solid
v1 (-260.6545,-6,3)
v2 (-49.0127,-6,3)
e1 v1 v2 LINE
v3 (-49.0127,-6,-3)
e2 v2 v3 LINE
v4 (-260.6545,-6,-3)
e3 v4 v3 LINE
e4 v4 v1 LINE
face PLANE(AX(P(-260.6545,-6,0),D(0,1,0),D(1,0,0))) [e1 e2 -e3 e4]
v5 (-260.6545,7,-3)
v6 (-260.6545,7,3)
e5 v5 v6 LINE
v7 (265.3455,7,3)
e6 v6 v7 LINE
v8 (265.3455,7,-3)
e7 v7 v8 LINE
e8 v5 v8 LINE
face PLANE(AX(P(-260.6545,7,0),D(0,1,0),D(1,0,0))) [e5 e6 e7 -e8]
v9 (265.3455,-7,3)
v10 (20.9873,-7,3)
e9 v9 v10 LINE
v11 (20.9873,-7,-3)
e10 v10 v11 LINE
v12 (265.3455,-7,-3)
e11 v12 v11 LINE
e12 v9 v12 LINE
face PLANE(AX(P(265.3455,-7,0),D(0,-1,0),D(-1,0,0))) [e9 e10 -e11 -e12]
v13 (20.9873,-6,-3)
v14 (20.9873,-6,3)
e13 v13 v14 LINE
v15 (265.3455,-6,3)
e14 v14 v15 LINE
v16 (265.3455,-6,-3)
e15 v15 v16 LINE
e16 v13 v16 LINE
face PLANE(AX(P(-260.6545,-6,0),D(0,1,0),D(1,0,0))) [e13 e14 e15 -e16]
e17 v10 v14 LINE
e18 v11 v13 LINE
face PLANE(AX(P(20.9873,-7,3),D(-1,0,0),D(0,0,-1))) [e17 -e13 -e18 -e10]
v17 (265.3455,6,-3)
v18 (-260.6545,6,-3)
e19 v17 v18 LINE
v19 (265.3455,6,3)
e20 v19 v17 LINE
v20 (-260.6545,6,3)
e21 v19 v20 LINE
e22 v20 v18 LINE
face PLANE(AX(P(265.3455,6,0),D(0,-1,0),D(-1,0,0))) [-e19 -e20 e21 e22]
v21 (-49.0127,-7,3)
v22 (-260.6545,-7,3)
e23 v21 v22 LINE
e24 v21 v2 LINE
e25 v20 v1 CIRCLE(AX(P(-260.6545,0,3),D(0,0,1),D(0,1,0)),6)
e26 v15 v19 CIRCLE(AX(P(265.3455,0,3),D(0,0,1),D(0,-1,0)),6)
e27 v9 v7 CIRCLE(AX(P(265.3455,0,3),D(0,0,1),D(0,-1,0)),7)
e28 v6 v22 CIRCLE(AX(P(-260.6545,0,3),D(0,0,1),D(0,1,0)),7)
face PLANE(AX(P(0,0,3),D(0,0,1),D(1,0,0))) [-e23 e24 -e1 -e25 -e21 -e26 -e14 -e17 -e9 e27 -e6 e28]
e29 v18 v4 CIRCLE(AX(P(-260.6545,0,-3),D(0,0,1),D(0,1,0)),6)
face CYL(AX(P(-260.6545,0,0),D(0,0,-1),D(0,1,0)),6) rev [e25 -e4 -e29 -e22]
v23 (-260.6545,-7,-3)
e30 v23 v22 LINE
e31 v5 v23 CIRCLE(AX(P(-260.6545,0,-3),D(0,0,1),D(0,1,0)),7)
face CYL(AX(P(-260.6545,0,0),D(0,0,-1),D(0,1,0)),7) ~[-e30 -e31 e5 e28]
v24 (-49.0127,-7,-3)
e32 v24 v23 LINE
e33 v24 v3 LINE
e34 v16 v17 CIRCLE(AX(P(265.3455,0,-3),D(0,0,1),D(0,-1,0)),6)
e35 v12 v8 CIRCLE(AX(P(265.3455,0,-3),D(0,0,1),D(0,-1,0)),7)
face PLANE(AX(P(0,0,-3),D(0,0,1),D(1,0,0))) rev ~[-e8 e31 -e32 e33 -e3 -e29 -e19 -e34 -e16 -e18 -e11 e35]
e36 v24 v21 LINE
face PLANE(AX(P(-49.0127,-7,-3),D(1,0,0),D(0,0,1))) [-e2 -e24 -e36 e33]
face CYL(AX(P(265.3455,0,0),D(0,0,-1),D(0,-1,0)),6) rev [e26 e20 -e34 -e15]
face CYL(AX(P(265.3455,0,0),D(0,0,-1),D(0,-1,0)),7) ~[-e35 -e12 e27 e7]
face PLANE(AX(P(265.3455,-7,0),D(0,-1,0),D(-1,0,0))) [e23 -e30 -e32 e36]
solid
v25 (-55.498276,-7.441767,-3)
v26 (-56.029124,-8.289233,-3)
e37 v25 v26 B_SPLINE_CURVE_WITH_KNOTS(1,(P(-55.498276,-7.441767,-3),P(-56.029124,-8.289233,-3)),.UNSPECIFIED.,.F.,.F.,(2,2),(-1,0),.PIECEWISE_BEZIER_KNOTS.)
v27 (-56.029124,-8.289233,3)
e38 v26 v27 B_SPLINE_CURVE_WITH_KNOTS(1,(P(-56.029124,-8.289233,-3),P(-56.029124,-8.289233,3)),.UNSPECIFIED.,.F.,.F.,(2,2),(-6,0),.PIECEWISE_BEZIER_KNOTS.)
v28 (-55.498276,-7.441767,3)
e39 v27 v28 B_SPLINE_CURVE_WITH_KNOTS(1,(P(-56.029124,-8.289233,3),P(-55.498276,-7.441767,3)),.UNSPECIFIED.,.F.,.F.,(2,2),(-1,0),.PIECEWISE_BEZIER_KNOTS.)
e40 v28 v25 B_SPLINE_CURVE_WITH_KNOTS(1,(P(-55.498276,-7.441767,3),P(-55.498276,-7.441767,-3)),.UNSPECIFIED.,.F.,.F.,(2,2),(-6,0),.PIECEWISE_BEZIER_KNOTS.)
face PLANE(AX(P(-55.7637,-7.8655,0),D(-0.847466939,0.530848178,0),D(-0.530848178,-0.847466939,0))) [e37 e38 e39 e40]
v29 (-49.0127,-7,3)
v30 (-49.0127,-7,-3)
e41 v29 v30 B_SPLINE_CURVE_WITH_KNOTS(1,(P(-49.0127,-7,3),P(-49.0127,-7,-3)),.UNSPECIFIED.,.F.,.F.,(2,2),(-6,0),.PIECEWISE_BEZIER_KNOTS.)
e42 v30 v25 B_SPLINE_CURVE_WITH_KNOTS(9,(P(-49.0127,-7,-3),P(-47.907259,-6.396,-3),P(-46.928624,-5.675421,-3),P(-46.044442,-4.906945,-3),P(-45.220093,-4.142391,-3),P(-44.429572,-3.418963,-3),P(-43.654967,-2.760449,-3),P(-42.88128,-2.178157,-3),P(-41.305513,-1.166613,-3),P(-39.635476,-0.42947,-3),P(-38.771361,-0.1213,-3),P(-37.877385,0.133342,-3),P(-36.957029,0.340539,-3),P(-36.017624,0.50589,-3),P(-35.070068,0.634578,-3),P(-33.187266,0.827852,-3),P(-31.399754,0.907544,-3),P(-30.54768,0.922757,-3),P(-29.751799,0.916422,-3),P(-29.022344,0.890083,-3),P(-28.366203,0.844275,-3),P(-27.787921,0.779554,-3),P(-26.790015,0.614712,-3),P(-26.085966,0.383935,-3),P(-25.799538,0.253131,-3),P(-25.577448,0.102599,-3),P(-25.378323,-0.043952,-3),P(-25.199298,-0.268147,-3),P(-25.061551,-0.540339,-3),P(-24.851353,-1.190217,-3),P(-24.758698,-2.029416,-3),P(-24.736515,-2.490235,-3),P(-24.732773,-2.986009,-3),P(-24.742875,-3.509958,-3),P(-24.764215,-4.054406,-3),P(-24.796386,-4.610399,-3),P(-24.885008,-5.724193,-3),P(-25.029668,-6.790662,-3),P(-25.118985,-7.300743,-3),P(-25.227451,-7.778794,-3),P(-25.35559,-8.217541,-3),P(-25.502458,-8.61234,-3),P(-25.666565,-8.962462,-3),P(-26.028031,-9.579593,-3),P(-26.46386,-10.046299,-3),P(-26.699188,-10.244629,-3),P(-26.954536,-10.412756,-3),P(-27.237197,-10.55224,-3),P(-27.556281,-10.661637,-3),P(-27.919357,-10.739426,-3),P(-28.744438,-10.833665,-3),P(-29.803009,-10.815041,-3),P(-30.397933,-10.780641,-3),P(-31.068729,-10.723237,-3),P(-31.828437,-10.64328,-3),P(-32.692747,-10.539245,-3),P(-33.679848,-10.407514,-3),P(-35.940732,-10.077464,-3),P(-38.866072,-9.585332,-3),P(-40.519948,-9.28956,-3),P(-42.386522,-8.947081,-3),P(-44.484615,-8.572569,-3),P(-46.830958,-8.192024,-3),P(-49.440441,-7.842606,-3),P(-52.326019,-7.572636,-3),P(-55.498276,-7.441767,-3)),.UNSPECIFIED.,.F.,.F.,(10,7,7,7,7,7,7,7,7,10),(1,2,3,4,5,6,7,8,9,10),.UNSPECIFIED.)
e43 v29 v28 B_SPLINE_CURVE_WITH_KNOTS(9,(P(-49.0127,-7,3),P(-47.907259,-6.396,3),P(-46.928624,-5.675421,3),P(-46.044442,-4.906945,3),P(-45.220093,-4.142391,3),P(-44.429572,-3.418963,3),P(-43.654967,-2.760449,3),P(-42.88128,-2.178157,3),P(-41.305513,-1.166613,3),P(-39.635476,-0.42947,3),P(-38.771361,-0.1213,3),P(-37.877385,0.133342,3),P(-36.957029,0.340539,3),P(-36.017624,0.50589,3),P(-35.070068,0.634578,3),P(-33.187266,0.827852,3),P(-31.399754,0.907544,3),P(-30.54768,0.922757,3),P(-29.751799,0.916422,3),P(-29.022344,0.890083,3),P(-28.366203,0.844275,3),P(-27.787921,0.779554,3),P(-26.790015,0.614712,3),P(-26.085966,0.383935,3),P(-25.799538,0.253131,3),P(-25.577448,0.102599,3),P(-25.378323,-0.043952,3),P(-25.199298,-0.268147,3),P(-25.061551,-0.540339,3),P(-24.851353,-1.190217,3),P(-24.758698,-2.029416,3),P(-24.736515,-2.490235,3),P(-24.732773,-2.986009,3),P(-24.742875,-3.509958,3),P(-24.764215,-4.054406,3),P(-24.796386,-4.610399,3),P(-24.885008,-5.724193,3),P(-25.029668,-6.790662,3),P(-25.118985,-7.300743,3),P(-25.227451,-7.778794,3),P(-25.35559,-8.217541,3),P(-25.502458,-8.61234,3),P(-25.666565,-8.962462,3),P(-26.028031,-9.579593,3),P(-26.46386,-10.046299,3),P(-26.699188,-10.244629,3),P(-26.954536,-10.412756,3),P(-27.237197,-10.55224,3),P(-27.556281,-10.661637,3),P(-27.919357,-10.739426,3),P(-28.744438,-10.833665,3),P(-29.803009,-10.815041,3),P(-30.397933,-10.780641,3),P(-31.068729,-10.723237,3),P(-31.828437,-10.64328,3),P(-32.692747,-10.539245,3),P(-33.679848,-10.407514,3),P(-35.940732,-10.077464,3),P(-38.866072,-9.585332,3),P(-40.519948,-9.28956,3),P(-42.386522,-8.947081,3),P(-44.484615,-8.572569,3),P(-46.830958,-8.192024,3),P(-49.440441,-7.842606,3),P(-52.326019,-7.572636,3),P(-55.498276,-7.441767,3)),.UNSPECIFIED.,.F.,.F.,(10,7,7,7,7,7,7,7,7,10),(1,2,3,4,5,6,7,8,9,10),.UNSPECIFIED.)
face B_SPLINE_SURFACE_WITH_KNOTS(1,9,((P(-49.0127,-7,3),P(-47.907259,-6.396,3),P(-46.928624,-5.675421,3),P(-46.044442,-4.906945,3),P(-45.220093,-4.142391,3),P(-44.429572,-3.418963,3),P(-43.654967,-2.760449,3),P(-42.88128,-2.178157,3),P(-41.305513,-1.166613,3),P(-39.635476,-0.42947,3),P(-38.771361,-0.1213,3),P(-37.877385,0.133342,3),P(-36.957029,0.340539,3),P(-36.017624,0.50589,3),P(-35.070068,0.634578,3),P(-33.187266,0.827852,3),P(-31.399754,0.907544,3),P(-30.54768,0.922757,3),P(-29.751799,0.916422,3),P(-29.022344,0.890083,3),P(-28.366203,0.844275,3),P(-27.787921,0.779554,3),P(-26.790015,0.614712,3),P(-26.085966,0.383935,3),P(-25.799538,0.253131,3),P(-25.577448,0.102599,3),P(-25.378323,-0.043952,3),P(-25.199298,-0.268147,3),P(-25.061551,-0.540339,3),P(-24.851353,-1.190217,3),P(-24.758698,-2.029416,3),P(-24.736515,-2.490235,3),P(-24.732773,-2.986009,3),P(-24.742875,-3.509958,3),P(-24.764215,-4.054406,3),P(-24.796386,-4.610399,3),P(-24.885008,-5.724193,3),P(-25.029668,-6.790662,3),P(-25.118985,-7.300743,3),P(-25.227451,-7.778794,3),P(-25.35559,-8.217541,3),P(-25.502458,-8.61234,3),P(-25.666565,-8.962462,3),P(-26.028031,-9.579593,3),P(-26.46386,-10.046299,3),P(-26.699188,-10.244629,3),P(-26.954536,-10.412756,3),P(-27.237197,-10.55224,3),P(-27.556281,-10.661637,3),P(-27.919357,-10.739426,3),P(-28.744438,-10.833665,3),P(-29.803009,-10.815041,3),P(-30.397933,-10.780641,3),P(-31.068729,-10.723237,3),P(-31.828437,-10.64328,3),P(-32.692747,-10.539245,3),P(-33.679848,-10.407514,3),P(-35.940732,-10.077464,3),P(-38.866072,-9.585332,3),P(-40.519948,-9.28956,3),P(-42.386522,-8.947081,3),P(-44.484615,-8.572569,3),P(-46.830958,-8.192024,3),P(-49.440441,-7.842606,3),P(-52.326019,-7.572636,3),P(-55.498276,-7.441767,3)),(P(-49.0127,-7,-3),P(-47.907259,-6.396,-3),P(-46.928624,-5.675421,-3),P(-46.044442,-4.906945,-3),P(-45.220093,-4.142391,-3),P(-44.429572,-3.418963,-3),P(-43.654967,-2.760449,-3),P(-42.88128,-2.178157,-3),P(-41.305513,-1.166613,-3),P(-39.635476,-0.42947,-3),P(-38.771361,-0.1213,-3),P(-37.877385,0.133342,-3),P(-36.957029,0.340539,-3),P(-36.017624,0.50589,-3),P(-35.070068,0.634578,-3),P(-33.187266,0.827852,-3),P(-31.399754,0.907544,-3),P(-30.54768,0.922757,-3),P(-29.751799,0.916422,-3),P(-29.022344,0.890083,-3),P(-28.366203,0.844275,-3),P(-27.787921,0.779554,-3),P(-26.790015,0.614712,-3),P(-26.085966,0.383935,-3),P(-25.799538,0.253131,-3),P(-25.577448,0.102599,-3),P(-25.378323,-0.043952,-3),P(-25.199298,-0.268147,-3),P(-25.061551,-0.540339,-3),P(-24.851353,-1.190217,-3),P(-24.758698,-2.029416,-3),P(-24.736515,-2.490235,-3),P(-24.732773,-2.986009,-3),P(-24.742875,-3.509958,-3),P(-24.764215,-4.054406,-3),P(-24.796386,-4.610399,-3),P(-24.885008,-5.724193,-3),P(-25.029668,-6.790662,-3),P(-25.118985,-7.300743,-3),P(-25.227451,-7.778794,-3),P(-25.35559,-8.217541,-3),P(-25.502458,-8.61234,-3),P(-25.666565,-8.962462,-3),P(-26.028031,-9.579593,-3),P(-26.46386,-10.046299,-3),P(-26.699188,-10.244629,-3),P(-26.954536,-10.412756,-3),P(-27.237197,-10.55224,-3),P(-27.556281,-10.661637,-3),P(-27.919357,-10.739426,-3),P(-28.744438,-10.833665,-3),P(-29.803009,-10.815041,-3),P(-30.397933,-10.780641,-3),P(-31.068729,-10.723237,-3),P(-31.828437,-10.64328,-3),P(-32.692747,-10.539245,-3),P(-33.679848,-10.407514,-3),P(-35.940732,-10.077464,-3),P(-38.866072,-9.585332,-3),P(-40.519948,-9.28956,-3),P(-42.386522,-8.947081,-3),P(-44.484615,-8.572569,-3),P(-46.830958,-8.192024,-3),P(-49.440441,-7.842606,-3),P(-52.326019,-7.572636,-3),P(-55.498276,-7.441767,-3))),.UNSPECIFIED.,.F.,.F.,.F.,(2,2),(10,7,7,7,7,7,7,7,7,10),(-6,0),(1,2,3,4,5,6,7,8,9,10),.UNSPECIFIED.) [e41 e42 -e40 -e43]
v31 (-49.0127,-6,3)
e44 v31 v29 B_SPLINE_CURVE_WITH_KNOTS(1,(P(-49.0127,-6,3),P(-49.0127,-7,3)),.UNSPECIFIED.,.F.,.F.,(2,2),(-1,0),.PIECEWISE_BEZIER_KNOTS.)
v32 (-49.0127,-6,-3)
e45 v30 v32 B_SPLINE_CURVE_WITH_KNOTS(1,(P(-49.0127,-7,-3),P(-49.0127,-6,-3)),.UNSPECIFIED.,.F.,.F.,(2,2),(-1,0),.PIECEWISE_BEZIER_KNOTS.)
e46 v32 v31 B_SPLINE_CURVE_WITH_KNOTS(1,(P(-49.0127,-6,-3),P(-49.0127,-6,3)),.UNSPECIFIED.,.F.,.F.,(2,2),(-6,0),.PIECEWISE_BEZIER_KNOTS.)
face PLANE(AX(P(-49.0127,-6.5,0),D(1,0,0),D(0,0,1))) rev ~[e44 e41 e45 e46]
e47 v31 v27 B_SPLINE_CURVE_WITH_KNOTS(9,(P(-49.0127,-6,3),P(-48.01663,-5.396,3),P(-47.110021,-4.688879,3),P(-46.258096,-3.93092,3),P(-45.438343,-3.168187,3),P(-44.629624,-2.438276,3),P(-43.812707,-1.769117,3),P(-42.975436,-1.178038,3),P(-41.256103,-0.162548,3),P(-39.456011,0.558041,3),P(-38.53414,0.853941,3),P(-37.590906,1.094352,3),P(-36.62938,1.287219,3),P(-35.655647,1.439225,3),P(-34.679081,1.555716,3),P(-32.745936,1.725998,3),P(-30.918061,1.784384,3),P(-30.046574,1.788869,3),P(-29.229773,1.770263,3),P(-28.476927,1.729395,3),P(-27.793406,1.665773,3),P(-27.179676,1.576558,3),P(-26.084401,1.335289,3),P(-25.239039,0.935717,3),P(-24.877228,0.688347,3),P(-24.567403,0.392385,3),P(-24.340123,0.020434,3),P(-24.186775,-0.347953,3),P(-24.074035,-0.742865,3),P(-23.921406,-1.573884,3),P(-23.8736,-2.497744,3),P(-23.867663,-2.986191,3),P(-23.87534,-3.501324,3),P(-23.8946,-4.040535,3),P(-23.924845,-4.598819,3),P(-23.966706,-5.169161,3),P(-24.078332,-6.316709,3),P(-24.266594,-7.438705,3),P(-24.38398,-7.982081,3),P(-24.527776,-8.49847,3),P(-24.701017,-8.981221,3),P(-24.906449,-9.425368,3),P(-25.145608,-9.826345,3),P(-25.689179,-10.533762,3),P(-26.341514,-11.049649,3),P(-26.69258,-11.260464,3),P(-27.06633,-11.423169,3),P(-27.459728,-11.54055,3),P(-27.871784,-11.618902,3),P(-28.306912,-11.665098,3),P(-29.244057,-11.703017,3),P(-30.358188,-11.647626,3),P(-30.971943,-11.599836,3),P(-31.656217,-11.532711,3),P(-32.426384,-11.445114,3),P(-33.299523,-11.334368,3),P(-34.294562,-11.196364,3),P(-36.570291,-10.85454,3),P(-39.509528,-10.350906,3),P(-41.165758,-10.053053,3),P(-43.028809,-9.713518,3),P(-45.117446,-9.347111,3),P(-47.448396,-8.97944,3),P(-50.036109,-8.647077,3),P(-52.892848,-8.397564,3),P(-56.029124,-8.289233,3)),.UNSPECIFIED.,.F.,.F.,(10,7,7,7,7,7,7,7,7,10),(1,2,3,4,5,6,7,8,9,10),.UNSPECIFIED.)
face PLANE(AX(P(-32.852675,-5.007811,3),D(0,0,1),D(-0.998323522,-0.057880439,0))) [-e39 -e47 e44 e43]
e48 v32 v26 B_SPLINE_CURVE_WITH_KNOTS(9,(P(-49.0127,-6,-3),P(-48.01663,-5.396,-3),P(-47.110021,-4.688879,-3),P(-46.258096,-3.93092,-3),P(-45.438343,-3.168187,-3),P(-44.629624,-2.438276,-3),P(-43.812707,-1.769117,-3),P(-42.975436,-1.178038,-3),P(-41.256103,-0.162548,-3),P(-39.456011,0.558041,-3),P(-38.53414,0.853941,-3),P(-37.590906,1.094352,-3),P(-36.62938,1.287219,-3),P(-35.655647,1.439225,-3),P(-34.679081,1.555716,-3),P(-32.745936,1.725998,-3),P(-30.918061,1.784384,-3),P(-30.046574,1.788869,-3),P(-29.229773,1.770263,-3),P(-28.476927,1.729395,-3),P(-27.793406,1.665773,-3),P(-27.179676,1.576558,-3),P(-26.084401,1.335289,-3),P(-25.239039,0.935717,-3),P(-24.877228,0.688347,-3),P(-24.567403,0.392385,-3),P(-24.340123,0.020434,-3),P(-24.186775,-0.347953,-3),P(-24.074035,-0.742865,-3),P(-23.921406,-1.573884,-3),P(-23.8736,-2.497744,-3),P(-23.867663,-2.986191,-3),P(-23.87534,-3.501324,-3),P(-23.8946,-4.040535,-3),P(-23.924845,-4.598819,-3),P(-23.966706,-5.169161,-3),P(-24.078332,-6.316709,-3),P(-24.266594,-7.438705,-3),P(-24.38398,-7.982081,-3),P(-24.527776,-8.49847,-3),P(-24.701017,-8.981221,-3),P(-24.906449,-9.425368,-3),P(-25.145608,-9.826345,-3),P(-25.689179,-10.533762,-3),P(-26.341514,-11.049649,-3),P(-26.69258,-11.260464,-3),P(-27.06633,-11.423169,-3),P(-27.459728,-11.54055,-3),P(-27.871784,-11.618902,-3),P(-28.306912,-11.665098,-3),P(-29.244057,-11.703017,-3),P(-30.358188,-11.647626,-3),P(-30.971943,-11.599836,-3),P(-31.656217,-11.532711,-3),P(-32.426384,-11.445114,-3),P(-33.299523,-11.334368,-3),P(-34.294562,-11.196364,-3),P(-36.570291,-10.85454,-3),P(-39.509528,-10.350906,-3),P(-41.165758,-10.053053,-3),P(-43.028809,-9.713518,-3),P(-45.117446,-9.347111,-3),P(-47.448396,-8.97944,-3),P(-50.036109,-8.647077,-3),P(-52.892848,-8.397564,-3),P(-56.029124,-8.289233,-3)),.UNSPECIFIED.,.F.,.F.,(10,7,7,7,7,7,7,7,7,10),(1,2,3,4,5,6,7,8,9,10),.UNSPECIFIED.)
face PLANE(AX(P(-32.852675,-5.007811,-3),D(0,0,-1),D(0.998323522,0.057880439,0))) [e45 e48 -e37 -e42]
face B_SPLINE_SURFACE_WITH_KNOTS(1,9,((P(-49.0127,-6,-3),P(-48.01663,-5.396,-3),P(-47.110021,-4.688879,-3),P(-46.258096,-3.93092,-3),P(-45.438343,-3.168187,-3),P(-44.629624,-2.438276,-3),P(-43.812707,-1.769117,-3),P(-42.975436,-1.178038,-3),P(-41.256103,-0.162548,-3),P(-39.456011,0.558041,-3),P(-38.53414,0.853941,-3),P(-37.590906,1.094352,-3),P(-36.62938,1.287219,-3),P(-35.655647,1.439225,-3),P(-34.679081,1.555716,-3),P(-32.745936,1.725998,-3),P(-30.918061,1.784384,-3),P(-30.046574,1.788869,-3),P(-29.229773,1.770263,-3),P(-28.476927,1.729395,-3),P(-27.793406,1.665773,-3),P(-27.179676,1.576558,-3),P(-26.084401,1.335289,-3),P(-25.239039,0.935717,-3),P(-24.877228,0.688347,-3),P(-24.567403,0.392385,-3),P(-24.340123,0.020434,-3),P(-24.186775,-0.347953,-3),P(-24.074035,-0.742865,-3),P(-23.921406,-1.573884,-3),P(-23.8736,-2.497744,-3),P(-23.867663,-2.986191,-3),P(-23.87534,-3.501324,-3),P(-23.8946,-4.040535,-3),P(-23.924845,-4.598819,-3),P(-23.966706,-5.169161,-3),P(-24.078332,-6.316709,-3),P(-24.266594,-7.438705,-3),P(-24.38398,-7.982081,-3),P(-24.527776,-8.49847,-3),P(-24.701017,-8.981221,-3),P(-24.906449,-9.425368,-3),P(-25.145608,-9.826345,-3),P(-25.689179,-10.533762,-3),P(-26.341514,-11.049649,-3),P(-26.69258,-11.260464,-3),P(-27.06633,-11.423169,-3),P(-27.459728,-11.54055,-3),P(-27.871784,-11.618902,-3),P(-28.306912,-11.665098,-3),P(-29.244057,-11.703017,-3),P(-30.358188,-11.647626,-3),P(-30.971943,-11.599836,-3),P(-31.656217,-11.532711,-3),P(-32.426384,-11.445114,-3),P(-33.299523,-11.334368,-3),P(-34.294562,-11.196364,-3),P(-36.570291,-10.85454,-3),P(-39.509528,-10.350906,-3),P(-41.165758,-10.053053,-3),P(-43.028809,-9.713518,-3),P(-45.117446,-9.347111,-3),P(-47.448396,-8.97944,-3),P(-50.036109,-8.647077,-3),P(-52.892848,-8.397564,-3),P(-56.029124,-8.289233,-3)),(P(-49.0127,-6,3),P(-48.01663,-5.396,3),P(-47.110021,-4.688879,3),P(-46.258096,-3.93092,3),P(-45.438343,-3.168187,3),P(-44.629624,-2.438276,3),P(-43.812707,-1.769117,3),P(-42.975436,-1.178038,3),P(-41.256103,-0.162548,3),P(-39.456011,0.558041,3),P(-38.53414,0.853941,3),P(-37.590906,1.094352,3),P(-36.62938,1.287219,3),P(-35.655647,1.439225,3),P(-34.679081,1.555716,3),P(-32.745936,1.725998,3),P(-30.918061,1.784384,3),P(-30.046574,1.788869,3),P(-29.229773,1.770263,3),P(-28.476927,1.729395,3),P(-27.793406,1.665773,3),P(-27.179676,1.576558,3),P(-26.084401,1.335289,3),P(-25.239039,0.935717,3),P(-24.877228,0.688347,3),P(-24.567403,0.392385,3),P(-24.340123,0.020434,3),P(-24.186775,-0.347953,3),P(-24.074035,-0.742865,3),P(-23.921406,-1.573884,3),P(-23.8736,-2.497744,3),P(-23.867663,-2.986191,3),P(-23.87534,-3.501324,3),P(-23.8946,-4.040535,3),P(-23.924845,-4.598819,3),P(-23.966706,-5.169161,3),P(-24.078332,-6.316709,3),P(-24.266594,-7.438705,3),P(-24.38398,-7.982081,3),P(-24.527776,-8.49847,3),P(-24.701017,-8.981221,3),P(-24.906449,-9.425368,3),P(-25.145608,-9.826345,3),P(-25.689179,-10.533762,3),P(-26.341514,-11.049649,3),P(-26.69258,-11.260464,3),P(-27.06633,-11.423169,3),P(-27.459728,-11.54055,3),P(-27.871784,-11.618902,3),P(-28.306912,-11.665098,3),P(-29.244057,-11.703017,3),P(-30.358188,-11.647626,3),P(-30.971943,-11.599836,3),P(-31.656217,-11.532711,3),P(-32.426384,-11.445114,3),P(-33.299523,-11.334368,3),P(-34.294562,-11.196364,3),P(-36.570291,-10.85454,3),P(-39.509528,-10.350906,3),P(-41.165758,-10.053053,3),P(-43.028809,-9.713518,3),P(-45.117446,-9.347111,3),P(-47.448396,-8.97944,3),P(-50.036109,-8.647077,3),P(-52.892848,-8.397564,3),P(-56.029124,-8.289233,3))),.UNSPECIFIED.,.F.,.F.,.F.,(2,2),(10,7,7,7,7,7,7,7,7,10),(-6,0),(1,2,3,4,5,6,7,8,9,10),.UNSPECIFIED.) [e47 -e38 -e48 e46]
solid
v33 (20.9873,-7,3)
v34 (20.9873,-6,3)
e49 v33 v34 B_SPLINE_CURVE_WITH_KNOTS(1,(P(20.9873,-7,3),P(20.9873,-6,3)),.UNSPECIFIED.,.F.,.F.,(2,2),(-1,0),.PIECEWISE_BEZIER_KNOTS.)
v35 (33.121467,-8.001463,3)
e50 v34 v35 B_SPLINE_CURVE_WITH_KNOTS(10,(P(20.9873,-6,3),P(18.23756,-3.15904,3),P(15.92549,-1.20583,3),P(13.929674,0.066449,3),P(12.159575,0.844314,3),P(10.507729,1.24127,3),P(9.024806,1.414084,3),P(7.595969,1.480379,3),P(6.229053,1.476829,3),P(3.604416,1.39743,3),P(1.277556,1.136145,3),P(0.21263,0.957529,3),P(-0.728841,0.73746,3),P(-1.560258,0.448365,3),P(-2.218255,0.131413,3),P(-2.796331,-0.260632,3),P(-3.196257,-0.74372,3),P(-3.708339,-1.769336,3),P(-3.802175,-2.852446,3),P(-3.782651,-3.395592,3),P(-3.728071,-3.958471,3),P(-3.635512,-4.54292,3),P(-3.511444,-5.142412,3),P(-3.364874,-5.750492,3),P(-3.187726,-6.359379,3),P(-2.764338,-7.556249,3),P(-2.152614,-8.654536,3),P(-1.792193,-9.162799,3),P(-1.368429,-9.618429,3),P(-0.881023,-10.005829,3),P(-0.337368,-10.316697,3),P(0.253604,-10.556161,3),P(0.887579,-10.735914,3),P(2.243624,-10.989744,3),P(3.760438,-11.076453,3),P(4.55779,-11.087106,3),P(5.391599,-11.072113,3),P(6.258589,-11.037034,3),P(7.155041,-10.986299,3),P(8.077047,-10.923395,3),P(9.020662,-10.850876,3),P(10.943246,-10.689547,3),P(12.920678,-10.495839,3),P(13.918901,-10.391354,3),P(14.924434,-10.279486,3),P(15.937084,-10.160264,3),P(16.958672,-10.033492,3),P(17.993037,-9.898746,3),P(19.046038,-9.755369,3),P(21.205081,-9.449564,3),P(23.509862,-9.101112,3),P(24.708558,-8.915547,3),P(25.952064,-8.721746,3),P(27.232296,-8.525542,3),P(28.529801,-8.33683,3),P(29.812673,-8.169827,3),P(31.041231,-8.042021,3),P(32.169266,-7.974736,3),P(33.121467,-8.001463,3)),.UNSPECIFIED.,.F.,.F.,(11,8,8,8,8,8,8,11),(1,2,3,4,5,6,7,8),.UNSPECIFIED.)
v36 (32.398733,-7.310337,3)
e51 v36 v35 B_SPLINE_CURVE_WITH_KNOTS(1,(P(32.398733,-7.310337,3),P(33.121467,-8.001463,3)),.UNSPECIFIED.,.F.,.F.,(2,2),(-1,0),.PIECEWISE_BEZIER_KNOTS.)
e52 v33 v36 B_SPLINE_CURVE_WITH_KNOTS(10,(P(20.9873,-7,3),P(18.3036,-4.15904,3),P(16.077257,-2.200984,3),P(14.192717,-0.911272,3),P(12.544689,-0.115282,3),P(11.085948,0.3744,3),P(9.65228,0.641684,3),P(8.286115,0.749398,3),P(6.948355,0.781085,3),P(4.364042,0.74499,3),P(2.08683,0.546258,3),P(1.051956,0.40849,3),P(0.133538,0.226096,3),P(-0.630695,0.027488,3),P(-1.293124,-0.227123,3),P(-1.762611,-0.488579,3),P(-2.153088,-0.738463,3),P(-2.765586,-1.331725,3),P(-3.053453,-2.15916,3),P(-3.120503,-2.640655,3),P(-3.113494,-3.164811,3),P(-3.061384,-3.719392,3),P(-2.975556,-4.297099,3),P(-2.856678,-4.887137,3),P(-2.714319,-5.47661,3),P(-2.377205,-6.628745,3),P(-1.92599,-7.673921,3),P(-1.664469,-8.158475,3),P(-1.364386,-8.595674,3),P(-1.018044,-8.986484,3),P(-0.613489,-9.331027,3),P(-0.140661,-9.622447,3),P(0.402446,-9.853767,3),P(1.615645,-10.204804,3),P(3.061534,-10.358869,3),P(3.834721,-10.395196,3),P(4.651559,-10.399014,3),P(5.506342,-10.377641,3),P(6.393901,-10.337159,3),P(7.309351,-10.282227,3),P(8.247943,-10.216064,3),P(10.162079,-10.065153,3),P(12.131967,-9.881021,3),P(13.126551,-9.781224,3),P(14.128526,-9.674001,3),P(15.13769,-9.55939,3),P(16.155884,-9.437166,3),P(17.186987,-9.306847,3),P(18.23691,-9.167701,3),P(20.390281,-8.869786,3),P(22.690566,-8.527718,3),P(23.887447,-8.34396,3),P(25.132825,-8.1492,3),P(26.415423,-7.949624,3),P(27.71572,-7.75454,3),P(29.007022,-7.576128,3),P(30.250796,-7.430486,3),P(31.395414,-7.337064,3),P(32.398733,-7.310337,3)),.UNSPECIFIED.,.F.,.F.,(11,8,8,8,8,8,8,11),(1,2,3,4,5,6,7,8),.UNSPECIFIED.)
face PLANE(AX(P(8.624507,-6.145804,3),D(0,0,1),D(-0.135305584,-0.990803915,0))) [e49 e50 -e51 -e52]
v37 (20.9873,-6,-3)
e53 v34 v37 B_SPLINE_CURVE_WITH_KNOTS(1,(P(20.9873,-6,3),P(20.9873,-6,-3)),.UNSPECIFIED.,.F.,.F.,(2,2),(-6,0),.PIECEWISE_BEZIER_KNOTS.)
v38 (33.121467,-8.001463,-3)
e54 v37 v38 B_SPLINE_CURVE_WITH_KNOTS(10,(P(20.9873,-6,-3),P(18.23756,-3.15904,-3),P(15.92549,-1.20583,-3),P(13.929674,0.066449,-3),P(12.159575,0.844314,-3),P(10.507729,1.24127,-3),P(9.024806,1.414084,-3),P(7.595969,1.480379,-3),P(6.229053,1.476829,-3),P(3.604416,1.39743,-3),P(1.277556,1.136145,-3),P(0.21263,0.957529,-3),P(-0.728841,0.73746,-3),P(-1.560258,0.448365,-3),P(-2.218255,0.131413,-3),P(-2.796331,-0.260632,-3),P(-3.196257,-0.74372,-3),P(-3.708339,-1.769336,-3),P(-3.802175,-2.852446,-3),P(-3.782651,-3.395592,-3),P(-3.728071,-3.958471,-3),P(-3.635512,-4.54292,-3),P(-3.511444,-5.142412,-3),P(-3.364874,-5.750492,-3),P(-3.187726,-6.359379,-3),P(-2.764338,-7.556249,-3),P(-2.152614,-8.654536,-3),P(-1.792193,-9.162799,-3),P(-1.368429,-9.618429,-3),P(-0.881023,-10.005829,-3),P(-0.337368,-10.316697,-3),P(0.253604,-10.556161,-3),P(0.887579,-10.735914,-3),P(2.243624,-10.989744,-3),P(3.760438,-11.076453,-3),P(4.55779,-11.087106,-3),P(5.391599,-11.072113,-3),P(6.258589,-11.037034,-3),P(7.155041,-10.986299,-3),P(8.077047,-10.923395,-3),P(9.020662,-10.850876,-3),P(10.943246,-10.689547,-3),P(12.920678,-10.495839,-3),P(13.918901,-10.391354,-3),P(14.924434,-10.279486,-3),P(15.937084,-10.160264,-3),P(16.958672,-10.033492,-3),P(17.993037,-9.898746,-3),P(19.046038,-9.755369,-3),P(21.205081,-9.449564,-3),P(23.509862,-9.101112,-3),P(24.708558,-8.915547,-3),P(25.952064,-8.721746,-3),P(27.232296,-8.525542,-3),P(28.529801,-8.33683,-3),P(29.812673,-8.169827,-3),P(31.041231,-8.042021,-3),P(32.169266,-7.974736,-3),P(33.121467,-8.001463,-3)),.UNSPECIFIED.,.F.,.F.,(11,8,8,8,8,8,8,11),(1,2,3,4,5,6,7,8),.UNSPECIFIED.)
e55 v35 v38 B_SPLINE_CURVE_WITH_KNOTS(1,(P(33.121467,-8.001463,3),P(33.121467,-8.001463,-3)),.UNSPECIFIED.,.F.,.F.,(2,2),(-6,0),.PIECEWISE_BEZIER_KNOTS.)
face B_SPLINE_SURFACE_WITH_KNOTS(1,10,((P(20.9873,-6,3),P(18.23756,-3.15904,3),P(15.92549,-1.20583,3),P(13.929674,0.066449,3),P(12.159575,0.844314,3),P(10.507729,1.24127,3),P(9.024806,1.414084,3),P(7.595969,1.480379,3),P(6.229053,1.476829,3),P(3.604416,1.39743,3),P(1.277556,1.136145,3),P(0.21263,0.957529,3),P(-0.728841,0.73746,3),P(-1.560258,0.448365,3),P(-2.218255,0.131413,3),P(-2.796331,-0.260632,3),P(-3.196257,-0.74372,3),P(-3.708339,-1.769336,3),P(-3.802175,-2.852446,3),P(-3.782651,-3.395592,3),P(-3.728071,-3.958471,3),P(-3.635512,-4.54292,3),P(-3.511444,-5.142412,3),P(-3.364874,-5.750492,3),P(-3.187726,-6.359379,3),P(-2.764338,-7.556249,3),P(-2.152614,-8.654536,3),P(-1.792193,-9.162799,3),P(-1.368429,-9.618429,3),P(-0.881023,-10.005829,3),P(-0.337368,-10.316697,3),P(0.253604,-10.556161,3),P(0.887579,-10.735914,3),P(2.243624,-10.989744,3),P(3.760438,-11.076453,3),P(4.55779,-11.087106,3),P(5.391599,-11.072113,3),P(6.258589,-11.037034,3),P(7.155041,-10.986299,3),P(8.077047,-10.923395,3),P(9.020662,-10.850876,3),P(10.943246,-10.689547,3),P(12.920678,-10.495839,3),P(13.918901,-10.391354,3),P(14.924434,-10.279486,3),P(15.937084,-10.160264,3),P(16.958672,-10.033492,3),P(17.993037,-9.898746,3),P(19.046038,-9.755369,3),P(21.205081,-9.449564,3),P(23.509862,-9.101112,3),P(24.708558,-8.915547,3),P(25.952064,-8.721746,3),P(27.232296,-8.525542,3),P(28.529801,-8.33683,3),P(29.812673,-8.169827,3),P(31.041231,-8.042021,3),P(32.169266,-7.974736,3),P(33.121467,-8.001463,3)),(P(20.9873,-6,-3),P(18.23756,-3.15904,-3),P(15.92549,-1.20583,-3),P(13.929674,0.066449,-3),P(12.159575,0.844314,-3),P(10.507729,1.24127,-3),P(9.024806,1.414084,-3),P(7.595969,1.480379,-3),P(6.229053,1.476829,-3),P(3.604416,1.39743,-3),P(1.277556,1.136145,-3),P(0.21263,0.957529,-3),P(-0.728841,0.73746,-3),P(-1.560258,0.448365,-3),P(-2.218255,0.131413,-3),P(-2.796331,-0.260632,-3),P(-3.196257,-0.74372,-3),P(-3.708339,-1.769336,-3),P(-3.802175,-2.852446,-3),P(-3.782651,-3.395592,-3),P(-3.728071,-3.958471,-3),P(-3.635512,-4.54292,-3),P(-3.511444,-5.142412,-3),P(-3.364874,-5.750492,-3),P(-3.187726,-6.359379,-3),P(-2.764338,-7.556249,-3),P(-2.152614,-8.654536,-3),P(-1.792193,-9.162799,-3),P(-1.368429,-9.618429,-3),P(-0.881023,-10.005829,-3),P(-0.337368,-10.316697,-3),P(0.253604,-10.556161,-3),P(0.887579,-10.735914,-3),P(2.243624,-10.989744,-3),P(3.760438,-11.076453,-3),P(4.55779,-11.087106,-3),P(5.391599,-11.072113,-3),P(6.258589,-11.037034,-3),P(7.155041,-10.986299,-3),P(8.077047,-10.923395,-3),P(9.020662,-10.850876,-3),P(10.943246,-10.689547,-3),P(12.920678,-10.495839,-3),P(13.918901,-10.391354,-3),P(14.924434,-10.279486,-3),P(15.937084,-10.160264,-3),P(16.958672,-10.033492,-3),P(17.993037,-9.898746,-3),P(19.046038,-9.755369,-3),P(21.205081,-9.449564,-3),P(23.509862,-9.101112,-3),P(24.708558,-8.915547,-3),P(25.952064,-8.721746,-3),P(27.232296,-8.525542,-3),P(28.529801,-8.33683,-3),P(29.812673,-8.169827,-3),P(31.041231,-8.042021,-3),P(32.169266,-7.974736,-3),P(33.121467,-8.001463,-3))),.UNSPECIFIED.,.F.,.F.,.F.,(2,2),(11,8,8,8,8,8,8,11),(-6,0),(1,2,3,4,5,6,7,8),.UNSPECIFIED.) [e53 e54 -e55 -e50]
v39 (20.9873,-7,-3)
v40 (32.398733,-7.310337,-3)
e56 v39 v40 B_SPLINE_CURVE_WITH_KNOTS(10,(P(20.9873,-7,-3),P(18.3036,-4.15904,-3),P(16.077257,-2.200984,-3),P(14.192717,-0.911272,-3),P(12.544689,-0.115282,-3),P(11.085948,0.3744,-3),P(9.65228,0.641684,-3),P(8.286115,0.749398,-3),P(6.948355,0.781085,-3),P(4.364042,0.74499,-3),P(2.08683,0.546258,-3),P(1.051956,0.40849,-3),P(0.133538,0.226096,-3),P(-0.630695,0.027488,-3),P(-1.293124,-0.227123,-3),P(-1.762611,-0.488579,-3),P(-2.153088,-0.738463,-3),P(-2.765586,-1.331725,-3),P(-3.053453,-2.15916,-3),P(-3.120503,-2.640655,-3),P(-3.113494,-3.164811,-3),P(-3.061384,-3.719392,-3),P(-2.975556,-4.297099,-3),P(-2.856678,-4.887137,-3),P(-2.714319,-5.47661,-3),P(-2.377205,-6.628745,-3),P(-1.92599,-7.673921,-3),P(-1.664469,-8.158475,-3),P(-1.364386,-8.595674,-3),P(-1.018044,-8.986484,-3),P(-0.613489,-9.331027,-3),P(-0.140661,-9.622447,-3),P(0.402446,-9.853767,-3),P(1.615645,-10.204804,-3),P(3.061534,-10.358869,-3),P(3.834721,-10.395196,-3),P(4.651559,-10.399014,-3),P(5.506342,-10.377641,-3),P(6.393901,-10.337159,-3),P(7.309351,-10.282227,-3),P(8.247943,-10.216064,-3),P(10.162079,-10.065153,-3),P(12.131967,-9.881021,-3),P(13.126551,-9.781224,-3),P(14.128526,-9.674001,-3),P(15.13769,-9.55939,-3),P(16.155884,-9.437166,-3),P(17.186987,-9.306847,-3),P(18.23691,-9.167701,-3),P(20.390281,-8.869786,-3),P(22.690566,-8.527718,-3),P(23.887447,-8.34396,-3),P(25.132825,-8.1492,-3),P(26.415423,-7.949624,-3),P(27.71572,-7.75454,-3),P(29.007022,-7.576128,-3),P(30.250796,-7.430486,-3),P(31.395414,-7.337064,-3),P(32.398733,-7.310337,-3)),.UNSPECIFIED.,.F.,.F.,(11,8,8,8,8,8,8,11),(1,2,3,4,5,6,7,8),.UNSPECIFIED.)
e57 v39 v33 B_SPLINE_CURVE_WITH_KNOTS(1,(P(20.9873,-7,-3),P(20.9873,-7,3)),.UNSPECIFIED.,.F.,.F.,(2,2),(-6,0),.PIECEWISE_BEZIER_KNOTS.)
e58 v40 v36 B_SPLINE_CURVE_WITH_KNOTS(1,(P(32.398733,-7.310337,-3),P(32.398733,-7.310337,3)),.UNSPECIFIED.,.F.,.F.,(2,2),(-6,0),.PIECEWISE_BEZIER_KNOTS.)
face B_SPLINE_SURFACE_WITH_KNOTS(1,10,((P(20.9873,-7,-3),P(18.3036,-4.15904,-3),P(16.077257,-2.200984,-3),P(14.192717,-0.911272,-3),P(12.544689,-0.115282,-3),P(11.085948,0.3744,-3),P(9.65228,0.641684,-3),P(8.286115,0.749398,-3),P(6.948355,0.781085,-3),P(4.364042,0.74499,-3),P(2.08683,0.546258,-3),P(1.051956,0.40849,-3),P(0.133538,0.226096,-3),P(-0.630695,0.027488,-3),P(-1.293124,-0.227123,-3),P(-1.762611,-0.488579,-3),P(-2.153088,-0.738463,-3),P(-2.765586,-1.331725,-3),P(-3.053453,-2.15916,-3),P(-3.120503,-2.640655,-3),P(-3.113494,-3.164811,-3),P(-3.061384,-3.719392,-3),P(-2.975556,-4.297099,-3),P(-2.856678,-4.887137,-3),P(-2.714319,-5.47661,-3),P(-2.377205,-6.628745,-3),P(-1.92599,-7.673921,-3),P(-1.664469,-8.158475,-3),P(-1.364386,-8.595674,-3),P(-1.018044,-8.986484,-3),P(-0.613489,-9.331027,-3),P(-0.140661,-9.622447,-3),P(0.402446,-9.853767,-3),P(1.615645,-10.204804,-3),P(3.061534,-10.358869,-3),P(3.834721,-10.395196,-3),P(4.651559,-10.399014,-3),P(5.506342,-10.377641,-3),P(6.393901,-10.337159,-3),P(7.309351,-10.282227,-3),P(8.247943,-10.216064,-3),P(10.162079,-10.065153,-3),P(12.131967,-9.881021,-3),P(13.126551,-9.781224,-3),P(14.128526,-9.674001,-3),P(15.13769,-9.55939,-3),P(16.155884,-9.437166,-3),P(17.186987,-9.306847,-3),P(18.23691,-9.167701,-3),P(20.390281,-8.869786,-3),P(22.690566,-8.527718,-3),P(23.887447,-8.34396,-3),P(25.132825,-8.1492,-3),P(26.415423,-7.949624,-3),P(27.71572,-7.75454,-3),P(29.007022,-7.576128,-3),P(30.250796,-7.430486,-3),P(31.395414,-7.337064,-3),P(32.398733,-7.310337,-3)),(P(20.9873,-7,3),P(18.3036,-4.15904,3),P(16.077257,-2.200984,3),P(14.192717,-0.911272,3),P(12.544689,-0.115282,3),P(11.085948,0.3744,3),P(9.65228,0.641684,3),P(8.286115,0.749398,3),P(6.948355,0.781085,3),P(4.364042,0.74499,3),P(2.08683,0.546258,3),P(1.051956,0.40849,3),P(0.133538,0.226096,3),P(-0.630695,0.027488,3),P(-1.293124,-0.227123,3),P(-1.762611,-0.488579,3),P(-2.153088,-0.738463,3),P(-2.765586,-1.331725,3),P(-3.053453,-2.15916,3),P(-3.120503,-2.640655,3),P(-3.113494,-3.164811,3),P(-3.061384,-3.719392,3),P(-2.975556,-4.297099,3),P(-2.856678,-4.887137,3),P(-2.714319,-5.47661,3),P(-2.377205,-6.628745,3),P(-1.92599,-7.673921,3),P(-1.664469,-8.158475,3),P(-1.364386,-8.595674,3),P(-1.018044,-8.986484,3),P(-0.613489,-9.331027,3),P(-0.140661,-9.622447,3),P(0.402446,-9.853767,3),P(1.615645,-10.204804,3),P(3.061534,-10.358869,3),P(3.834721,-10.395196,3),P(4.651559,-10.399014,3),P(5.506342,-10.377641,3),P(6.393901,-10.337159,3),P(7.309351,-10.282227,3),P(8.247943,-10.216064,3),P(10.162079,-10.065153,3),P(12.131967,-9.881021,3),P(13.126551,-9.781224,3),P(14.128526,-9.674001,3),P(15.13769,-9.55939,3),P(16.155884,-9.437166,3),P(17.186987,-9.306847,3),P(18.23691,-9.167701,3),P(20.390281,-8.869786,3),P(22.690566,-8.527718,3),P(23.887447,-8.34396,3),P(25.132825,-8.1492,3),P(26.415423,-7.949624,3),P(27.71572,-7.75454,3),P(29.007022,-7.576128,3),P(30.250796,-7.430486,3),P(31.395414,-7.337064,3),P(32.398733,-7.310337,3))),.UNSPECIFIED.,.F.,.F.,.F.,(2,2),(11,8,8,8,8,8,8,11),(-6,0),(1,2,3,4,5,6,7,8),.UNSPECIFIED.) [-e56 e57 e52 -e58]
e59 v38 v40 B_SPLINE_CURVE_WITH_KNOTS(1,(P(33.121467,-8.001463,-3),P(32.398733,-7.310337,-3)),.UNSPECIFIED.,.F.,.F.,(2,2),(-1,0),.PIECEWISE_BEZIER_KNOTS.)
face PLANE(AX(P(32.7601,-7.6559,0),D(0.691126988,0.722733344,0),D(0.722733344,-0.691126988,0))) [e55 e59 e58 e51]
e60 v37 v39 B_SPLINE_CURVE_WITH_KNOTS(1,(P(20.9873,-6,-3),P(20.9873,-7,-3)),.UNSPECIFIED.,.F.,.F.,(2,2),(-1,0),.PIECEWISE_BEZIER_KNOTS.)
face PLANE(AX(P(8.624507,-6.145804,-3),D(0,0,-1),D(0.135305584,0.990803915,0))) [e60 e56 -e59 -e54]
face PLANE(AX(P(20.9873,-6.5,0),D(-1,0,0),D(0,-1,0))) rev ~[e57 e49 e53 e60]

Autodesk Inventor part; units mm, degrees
ref_plane "YZ Plane" through (0, 0, 0) normal (1, 0, 0) x (0, 1, 0)
ref_plane "XZ Plane" through (0, 0, 0) normal (0, 1, 0) x (-1, 0, 0)
ref_plane "XY Plane" through (0, 0, 0) normal (0, 0, 1) x (1, 0, 0)
sketch "Sketch1" plane through (0, 0, 0) normal (0, 0, 1) x (1, 0, 0)
  line L0 (-260.6545, 0) -> (265.3455, 0) construction
  line L1 (-260.6545, -6) -> (265.3455, -6)
  line L2 (265.3455, 6) -> (-260.6545, 6)
  arc A0 (-260.6545, 6) -> (-260.6545, -6) centre (-260.6545, 0) ccw
  arc A1 (265.3455, -6) -> (265.3455, 6) centre (265.3455, 0) ccw
  line L3 (-260.6545, 7) -> (265.3455, 7)
  arc A2 (265.3455, -7) -> (265.3455, 7) centre (265.3455, 0) ccw
  line L4 (265.3455, -7) -> (-260.6545, -7)
  arc A3 (-260.6545, 7) -> (-260.6545, -7) centre (-260.6545, 0) ccw
  point P0 (0, 0)
  point P1 (2.3455, 0)
  dimension "d0" = 526
  dimension "d1" = 12
  dimension "d2" = 1
extrude "Extrusion1" add sketch "Sketch1" along normal mid plane 6
sketch "Sketch7" plane through (-260.6545, -7, 3) normal (0, -1, 0) x (1, 0, 0)
  line L0 (221.6418, 58.3771) -> (221.6418, -71.6229) projected
  line L1 (409.1418, -121.6229) -> (409.1418, 108.3771) projected
  line L2 (211.6418, 0) -> (281.6418, 0)
  line L3 (281.6418, 0) -> (281.6418, -6)
  line L4 (281.6418, -6) -> (211.6418, -6)
  line L5 (211.6418, -6) -> (211.6418, 0)
  line L6 (0, 0) -> (526, 0) projected
  line L7 (526, -6) -> (0, -6) projected
  line L8 (271.6418, -71.6229) -> (271.6418, 58.3771) projected
  point P0 (260.6545, -3)
  dimension "d11" = 10
  dimension "d17" = 10
extrude "Extrusion3" cut sketch "Sketch7" against normal blind 10 contours L2 L8 L4 L0 | L0 L4 L5 L2 | L2 L3 L4 L8
sketch "Sketch8" plane through (0, 0, 0) normal (0, 0, 1) x (1, 0, 0)
  line L0 (-39.0127, -8.8612) -> (-39.0127, -0.8612) projected
  line L1 (-29.0127, -8.8612) -> (-29.0127, -0.8612) projected
  line L2 (-49.0127, -6) -> (-49.0127, -7) projected
  line L3 (-49.0127, -7) -> (-49.0127, -6) projected
  line L4 (-49.0127, -6.5) -> (-46.6485, -5.141) construction
  line L5 (-46.6485, -5.141) -> (-43.2177, -1.1048) construction
  line L6 (-43.2177, -1.1048) -> (-37.7352, 1.2833) construction
  line L7 (-37.7352, 1.2833) -> (-27.9473, 1.5524) construction
  line L8 (-27.9473, 1.5524) -> (-24.2474, 0.6779) construction
  line L9 (-24.2474, 0.6779) -> (-24.2474, -3.0893) construction
  line L10 (-24.2474, -3.0893) -> (-24.5501, -9.0427) construction
  line L11 (-24.5501, -9.0427) -> (-26.9382, -11.4981) construction
  line L12 (-26.9382, -11.4981) -> (-30.5372, -11.2963) construction
  line L13 (-30.5372, -11.2963) -> (-37.8697, -10.3545) construction
  line L14 (-37.8697, -10.3545) -> (-48.6666, -8.1346) construction
  line L15 (-48.6666, -8.1346) -> (-55.7637, -7.8655) construction
  spline S0 degree 4 poles (-49.0127, -6.5) (-46.6485, -5.141) (-43.2177, -1.1048) (-37.7352, 1.2833) (-27.9473, 1.5524) (-24.2474, 0.6779) (-24.2474, -3.0893) (-24.5501, -9.0427) (-26.9382, -11.4981) (-30.5372, -11.2963) (-37.8697, -10.3545) (-48.6666, -8.1346) (-55.7637, -7.8655) knots 1 1 1 1 1 2 3 4 5 6 7 8 9 10 10 10 10 10
  point P0 (0, 0)
sketch "Sketch9" plane through (-49.0127, -7, 3) normal (1, 0, 0) x (0, 0, -1)
  line L0 (0, 1) -> (6, 1) projected
  line L1 (0, 0) -> (0, 1) projected
  line L2 (6, 0) -> (0, 0) projected
  line L3 (6, 1) -> (6, 0) projected
  point P0 (3, 7)
sweep "Sweep3" add profiles "Sketch9" path "Sketch8" separate body path curves S0
sketch "Sketch10" plane through (0, 0, 0) normal (0, 0, 1) x (1, 0, 0)
  line L0 (10.9873, -8.8612) -> (10.9873, -0.8612) projected
  line L1 (0.9873, -8.8612) -> (0.9873, -0.8612) projected
  line L2 (20.9873, -7) -> (20.9873, -6) projected
  line L3 (20.9873, -6) -> (20.9873, -7) projected
  line L4 (20.9873, -6.5) -> (14.1955, 0.6024) construction
  line L5 (14.1955, 0.6024) -> (7.3246, 1.5273) construction
  line L6 (7.3246, 1.5273) -> (-4.1709, 0.9988) construction
  line L7 (-4.1709, 0.9988) -> (-3.5102, -3.6259) construction
  line L8 (-3.5102, -3.6259) -> (-2.1228, -10.8931) construction
  line L9 (-2.1228, -10.8931) -> (5.3427, -10.8931) construction
  line L10 (5.3427, -10.8931) -> (15.5829, -9.9682) construction
  line L11 (15.5829, -9.9682) -> (23.0484, -8.8612) construction
  line L12 (23.0484, -8.8612) -> (30.3157, -7.6559) construction
  line L13 (30.3157, -7.6559) -> (32.7601, -7.6559) construction
  spline S0 degree 4 poles (20.9873, -6.5) (14.1955, 0.6024) (7.3246, 1.5273) (-4.1709, 0.9988) (-3.5102, -3.6259) (-2.1228, -10.8931) (5.3427, -10.8931) (15.5829, -9.9682) (23.0484, -8.8612) (30.3157, -7.6559) (32.7601, -7.6559) knots 1 1 1 1 1 2 3 4 5 6 7 8 8 8 8 8
  point P0 (0, 0)
sketch "Sketch11" plane through (20.9873, -7, -3) normal (-1, 0, 0) x (0, 0, 1)
  line L0 (0, 1) -> (6, 1) projected
  line L1 (0, 0) -> (0, 1) projected
  line L2 (6, 0) -> (0, 0) projected
  line L3 (6, 1) -> (6, 0) projected
  point P0 (3, 7)
sweep "Sweep4" add profiles "Sketch11" path "Sketch10" separate body path curves S0
equation "\"d17\" = d11"
properties part number "0005-10-1016 curea Y"
